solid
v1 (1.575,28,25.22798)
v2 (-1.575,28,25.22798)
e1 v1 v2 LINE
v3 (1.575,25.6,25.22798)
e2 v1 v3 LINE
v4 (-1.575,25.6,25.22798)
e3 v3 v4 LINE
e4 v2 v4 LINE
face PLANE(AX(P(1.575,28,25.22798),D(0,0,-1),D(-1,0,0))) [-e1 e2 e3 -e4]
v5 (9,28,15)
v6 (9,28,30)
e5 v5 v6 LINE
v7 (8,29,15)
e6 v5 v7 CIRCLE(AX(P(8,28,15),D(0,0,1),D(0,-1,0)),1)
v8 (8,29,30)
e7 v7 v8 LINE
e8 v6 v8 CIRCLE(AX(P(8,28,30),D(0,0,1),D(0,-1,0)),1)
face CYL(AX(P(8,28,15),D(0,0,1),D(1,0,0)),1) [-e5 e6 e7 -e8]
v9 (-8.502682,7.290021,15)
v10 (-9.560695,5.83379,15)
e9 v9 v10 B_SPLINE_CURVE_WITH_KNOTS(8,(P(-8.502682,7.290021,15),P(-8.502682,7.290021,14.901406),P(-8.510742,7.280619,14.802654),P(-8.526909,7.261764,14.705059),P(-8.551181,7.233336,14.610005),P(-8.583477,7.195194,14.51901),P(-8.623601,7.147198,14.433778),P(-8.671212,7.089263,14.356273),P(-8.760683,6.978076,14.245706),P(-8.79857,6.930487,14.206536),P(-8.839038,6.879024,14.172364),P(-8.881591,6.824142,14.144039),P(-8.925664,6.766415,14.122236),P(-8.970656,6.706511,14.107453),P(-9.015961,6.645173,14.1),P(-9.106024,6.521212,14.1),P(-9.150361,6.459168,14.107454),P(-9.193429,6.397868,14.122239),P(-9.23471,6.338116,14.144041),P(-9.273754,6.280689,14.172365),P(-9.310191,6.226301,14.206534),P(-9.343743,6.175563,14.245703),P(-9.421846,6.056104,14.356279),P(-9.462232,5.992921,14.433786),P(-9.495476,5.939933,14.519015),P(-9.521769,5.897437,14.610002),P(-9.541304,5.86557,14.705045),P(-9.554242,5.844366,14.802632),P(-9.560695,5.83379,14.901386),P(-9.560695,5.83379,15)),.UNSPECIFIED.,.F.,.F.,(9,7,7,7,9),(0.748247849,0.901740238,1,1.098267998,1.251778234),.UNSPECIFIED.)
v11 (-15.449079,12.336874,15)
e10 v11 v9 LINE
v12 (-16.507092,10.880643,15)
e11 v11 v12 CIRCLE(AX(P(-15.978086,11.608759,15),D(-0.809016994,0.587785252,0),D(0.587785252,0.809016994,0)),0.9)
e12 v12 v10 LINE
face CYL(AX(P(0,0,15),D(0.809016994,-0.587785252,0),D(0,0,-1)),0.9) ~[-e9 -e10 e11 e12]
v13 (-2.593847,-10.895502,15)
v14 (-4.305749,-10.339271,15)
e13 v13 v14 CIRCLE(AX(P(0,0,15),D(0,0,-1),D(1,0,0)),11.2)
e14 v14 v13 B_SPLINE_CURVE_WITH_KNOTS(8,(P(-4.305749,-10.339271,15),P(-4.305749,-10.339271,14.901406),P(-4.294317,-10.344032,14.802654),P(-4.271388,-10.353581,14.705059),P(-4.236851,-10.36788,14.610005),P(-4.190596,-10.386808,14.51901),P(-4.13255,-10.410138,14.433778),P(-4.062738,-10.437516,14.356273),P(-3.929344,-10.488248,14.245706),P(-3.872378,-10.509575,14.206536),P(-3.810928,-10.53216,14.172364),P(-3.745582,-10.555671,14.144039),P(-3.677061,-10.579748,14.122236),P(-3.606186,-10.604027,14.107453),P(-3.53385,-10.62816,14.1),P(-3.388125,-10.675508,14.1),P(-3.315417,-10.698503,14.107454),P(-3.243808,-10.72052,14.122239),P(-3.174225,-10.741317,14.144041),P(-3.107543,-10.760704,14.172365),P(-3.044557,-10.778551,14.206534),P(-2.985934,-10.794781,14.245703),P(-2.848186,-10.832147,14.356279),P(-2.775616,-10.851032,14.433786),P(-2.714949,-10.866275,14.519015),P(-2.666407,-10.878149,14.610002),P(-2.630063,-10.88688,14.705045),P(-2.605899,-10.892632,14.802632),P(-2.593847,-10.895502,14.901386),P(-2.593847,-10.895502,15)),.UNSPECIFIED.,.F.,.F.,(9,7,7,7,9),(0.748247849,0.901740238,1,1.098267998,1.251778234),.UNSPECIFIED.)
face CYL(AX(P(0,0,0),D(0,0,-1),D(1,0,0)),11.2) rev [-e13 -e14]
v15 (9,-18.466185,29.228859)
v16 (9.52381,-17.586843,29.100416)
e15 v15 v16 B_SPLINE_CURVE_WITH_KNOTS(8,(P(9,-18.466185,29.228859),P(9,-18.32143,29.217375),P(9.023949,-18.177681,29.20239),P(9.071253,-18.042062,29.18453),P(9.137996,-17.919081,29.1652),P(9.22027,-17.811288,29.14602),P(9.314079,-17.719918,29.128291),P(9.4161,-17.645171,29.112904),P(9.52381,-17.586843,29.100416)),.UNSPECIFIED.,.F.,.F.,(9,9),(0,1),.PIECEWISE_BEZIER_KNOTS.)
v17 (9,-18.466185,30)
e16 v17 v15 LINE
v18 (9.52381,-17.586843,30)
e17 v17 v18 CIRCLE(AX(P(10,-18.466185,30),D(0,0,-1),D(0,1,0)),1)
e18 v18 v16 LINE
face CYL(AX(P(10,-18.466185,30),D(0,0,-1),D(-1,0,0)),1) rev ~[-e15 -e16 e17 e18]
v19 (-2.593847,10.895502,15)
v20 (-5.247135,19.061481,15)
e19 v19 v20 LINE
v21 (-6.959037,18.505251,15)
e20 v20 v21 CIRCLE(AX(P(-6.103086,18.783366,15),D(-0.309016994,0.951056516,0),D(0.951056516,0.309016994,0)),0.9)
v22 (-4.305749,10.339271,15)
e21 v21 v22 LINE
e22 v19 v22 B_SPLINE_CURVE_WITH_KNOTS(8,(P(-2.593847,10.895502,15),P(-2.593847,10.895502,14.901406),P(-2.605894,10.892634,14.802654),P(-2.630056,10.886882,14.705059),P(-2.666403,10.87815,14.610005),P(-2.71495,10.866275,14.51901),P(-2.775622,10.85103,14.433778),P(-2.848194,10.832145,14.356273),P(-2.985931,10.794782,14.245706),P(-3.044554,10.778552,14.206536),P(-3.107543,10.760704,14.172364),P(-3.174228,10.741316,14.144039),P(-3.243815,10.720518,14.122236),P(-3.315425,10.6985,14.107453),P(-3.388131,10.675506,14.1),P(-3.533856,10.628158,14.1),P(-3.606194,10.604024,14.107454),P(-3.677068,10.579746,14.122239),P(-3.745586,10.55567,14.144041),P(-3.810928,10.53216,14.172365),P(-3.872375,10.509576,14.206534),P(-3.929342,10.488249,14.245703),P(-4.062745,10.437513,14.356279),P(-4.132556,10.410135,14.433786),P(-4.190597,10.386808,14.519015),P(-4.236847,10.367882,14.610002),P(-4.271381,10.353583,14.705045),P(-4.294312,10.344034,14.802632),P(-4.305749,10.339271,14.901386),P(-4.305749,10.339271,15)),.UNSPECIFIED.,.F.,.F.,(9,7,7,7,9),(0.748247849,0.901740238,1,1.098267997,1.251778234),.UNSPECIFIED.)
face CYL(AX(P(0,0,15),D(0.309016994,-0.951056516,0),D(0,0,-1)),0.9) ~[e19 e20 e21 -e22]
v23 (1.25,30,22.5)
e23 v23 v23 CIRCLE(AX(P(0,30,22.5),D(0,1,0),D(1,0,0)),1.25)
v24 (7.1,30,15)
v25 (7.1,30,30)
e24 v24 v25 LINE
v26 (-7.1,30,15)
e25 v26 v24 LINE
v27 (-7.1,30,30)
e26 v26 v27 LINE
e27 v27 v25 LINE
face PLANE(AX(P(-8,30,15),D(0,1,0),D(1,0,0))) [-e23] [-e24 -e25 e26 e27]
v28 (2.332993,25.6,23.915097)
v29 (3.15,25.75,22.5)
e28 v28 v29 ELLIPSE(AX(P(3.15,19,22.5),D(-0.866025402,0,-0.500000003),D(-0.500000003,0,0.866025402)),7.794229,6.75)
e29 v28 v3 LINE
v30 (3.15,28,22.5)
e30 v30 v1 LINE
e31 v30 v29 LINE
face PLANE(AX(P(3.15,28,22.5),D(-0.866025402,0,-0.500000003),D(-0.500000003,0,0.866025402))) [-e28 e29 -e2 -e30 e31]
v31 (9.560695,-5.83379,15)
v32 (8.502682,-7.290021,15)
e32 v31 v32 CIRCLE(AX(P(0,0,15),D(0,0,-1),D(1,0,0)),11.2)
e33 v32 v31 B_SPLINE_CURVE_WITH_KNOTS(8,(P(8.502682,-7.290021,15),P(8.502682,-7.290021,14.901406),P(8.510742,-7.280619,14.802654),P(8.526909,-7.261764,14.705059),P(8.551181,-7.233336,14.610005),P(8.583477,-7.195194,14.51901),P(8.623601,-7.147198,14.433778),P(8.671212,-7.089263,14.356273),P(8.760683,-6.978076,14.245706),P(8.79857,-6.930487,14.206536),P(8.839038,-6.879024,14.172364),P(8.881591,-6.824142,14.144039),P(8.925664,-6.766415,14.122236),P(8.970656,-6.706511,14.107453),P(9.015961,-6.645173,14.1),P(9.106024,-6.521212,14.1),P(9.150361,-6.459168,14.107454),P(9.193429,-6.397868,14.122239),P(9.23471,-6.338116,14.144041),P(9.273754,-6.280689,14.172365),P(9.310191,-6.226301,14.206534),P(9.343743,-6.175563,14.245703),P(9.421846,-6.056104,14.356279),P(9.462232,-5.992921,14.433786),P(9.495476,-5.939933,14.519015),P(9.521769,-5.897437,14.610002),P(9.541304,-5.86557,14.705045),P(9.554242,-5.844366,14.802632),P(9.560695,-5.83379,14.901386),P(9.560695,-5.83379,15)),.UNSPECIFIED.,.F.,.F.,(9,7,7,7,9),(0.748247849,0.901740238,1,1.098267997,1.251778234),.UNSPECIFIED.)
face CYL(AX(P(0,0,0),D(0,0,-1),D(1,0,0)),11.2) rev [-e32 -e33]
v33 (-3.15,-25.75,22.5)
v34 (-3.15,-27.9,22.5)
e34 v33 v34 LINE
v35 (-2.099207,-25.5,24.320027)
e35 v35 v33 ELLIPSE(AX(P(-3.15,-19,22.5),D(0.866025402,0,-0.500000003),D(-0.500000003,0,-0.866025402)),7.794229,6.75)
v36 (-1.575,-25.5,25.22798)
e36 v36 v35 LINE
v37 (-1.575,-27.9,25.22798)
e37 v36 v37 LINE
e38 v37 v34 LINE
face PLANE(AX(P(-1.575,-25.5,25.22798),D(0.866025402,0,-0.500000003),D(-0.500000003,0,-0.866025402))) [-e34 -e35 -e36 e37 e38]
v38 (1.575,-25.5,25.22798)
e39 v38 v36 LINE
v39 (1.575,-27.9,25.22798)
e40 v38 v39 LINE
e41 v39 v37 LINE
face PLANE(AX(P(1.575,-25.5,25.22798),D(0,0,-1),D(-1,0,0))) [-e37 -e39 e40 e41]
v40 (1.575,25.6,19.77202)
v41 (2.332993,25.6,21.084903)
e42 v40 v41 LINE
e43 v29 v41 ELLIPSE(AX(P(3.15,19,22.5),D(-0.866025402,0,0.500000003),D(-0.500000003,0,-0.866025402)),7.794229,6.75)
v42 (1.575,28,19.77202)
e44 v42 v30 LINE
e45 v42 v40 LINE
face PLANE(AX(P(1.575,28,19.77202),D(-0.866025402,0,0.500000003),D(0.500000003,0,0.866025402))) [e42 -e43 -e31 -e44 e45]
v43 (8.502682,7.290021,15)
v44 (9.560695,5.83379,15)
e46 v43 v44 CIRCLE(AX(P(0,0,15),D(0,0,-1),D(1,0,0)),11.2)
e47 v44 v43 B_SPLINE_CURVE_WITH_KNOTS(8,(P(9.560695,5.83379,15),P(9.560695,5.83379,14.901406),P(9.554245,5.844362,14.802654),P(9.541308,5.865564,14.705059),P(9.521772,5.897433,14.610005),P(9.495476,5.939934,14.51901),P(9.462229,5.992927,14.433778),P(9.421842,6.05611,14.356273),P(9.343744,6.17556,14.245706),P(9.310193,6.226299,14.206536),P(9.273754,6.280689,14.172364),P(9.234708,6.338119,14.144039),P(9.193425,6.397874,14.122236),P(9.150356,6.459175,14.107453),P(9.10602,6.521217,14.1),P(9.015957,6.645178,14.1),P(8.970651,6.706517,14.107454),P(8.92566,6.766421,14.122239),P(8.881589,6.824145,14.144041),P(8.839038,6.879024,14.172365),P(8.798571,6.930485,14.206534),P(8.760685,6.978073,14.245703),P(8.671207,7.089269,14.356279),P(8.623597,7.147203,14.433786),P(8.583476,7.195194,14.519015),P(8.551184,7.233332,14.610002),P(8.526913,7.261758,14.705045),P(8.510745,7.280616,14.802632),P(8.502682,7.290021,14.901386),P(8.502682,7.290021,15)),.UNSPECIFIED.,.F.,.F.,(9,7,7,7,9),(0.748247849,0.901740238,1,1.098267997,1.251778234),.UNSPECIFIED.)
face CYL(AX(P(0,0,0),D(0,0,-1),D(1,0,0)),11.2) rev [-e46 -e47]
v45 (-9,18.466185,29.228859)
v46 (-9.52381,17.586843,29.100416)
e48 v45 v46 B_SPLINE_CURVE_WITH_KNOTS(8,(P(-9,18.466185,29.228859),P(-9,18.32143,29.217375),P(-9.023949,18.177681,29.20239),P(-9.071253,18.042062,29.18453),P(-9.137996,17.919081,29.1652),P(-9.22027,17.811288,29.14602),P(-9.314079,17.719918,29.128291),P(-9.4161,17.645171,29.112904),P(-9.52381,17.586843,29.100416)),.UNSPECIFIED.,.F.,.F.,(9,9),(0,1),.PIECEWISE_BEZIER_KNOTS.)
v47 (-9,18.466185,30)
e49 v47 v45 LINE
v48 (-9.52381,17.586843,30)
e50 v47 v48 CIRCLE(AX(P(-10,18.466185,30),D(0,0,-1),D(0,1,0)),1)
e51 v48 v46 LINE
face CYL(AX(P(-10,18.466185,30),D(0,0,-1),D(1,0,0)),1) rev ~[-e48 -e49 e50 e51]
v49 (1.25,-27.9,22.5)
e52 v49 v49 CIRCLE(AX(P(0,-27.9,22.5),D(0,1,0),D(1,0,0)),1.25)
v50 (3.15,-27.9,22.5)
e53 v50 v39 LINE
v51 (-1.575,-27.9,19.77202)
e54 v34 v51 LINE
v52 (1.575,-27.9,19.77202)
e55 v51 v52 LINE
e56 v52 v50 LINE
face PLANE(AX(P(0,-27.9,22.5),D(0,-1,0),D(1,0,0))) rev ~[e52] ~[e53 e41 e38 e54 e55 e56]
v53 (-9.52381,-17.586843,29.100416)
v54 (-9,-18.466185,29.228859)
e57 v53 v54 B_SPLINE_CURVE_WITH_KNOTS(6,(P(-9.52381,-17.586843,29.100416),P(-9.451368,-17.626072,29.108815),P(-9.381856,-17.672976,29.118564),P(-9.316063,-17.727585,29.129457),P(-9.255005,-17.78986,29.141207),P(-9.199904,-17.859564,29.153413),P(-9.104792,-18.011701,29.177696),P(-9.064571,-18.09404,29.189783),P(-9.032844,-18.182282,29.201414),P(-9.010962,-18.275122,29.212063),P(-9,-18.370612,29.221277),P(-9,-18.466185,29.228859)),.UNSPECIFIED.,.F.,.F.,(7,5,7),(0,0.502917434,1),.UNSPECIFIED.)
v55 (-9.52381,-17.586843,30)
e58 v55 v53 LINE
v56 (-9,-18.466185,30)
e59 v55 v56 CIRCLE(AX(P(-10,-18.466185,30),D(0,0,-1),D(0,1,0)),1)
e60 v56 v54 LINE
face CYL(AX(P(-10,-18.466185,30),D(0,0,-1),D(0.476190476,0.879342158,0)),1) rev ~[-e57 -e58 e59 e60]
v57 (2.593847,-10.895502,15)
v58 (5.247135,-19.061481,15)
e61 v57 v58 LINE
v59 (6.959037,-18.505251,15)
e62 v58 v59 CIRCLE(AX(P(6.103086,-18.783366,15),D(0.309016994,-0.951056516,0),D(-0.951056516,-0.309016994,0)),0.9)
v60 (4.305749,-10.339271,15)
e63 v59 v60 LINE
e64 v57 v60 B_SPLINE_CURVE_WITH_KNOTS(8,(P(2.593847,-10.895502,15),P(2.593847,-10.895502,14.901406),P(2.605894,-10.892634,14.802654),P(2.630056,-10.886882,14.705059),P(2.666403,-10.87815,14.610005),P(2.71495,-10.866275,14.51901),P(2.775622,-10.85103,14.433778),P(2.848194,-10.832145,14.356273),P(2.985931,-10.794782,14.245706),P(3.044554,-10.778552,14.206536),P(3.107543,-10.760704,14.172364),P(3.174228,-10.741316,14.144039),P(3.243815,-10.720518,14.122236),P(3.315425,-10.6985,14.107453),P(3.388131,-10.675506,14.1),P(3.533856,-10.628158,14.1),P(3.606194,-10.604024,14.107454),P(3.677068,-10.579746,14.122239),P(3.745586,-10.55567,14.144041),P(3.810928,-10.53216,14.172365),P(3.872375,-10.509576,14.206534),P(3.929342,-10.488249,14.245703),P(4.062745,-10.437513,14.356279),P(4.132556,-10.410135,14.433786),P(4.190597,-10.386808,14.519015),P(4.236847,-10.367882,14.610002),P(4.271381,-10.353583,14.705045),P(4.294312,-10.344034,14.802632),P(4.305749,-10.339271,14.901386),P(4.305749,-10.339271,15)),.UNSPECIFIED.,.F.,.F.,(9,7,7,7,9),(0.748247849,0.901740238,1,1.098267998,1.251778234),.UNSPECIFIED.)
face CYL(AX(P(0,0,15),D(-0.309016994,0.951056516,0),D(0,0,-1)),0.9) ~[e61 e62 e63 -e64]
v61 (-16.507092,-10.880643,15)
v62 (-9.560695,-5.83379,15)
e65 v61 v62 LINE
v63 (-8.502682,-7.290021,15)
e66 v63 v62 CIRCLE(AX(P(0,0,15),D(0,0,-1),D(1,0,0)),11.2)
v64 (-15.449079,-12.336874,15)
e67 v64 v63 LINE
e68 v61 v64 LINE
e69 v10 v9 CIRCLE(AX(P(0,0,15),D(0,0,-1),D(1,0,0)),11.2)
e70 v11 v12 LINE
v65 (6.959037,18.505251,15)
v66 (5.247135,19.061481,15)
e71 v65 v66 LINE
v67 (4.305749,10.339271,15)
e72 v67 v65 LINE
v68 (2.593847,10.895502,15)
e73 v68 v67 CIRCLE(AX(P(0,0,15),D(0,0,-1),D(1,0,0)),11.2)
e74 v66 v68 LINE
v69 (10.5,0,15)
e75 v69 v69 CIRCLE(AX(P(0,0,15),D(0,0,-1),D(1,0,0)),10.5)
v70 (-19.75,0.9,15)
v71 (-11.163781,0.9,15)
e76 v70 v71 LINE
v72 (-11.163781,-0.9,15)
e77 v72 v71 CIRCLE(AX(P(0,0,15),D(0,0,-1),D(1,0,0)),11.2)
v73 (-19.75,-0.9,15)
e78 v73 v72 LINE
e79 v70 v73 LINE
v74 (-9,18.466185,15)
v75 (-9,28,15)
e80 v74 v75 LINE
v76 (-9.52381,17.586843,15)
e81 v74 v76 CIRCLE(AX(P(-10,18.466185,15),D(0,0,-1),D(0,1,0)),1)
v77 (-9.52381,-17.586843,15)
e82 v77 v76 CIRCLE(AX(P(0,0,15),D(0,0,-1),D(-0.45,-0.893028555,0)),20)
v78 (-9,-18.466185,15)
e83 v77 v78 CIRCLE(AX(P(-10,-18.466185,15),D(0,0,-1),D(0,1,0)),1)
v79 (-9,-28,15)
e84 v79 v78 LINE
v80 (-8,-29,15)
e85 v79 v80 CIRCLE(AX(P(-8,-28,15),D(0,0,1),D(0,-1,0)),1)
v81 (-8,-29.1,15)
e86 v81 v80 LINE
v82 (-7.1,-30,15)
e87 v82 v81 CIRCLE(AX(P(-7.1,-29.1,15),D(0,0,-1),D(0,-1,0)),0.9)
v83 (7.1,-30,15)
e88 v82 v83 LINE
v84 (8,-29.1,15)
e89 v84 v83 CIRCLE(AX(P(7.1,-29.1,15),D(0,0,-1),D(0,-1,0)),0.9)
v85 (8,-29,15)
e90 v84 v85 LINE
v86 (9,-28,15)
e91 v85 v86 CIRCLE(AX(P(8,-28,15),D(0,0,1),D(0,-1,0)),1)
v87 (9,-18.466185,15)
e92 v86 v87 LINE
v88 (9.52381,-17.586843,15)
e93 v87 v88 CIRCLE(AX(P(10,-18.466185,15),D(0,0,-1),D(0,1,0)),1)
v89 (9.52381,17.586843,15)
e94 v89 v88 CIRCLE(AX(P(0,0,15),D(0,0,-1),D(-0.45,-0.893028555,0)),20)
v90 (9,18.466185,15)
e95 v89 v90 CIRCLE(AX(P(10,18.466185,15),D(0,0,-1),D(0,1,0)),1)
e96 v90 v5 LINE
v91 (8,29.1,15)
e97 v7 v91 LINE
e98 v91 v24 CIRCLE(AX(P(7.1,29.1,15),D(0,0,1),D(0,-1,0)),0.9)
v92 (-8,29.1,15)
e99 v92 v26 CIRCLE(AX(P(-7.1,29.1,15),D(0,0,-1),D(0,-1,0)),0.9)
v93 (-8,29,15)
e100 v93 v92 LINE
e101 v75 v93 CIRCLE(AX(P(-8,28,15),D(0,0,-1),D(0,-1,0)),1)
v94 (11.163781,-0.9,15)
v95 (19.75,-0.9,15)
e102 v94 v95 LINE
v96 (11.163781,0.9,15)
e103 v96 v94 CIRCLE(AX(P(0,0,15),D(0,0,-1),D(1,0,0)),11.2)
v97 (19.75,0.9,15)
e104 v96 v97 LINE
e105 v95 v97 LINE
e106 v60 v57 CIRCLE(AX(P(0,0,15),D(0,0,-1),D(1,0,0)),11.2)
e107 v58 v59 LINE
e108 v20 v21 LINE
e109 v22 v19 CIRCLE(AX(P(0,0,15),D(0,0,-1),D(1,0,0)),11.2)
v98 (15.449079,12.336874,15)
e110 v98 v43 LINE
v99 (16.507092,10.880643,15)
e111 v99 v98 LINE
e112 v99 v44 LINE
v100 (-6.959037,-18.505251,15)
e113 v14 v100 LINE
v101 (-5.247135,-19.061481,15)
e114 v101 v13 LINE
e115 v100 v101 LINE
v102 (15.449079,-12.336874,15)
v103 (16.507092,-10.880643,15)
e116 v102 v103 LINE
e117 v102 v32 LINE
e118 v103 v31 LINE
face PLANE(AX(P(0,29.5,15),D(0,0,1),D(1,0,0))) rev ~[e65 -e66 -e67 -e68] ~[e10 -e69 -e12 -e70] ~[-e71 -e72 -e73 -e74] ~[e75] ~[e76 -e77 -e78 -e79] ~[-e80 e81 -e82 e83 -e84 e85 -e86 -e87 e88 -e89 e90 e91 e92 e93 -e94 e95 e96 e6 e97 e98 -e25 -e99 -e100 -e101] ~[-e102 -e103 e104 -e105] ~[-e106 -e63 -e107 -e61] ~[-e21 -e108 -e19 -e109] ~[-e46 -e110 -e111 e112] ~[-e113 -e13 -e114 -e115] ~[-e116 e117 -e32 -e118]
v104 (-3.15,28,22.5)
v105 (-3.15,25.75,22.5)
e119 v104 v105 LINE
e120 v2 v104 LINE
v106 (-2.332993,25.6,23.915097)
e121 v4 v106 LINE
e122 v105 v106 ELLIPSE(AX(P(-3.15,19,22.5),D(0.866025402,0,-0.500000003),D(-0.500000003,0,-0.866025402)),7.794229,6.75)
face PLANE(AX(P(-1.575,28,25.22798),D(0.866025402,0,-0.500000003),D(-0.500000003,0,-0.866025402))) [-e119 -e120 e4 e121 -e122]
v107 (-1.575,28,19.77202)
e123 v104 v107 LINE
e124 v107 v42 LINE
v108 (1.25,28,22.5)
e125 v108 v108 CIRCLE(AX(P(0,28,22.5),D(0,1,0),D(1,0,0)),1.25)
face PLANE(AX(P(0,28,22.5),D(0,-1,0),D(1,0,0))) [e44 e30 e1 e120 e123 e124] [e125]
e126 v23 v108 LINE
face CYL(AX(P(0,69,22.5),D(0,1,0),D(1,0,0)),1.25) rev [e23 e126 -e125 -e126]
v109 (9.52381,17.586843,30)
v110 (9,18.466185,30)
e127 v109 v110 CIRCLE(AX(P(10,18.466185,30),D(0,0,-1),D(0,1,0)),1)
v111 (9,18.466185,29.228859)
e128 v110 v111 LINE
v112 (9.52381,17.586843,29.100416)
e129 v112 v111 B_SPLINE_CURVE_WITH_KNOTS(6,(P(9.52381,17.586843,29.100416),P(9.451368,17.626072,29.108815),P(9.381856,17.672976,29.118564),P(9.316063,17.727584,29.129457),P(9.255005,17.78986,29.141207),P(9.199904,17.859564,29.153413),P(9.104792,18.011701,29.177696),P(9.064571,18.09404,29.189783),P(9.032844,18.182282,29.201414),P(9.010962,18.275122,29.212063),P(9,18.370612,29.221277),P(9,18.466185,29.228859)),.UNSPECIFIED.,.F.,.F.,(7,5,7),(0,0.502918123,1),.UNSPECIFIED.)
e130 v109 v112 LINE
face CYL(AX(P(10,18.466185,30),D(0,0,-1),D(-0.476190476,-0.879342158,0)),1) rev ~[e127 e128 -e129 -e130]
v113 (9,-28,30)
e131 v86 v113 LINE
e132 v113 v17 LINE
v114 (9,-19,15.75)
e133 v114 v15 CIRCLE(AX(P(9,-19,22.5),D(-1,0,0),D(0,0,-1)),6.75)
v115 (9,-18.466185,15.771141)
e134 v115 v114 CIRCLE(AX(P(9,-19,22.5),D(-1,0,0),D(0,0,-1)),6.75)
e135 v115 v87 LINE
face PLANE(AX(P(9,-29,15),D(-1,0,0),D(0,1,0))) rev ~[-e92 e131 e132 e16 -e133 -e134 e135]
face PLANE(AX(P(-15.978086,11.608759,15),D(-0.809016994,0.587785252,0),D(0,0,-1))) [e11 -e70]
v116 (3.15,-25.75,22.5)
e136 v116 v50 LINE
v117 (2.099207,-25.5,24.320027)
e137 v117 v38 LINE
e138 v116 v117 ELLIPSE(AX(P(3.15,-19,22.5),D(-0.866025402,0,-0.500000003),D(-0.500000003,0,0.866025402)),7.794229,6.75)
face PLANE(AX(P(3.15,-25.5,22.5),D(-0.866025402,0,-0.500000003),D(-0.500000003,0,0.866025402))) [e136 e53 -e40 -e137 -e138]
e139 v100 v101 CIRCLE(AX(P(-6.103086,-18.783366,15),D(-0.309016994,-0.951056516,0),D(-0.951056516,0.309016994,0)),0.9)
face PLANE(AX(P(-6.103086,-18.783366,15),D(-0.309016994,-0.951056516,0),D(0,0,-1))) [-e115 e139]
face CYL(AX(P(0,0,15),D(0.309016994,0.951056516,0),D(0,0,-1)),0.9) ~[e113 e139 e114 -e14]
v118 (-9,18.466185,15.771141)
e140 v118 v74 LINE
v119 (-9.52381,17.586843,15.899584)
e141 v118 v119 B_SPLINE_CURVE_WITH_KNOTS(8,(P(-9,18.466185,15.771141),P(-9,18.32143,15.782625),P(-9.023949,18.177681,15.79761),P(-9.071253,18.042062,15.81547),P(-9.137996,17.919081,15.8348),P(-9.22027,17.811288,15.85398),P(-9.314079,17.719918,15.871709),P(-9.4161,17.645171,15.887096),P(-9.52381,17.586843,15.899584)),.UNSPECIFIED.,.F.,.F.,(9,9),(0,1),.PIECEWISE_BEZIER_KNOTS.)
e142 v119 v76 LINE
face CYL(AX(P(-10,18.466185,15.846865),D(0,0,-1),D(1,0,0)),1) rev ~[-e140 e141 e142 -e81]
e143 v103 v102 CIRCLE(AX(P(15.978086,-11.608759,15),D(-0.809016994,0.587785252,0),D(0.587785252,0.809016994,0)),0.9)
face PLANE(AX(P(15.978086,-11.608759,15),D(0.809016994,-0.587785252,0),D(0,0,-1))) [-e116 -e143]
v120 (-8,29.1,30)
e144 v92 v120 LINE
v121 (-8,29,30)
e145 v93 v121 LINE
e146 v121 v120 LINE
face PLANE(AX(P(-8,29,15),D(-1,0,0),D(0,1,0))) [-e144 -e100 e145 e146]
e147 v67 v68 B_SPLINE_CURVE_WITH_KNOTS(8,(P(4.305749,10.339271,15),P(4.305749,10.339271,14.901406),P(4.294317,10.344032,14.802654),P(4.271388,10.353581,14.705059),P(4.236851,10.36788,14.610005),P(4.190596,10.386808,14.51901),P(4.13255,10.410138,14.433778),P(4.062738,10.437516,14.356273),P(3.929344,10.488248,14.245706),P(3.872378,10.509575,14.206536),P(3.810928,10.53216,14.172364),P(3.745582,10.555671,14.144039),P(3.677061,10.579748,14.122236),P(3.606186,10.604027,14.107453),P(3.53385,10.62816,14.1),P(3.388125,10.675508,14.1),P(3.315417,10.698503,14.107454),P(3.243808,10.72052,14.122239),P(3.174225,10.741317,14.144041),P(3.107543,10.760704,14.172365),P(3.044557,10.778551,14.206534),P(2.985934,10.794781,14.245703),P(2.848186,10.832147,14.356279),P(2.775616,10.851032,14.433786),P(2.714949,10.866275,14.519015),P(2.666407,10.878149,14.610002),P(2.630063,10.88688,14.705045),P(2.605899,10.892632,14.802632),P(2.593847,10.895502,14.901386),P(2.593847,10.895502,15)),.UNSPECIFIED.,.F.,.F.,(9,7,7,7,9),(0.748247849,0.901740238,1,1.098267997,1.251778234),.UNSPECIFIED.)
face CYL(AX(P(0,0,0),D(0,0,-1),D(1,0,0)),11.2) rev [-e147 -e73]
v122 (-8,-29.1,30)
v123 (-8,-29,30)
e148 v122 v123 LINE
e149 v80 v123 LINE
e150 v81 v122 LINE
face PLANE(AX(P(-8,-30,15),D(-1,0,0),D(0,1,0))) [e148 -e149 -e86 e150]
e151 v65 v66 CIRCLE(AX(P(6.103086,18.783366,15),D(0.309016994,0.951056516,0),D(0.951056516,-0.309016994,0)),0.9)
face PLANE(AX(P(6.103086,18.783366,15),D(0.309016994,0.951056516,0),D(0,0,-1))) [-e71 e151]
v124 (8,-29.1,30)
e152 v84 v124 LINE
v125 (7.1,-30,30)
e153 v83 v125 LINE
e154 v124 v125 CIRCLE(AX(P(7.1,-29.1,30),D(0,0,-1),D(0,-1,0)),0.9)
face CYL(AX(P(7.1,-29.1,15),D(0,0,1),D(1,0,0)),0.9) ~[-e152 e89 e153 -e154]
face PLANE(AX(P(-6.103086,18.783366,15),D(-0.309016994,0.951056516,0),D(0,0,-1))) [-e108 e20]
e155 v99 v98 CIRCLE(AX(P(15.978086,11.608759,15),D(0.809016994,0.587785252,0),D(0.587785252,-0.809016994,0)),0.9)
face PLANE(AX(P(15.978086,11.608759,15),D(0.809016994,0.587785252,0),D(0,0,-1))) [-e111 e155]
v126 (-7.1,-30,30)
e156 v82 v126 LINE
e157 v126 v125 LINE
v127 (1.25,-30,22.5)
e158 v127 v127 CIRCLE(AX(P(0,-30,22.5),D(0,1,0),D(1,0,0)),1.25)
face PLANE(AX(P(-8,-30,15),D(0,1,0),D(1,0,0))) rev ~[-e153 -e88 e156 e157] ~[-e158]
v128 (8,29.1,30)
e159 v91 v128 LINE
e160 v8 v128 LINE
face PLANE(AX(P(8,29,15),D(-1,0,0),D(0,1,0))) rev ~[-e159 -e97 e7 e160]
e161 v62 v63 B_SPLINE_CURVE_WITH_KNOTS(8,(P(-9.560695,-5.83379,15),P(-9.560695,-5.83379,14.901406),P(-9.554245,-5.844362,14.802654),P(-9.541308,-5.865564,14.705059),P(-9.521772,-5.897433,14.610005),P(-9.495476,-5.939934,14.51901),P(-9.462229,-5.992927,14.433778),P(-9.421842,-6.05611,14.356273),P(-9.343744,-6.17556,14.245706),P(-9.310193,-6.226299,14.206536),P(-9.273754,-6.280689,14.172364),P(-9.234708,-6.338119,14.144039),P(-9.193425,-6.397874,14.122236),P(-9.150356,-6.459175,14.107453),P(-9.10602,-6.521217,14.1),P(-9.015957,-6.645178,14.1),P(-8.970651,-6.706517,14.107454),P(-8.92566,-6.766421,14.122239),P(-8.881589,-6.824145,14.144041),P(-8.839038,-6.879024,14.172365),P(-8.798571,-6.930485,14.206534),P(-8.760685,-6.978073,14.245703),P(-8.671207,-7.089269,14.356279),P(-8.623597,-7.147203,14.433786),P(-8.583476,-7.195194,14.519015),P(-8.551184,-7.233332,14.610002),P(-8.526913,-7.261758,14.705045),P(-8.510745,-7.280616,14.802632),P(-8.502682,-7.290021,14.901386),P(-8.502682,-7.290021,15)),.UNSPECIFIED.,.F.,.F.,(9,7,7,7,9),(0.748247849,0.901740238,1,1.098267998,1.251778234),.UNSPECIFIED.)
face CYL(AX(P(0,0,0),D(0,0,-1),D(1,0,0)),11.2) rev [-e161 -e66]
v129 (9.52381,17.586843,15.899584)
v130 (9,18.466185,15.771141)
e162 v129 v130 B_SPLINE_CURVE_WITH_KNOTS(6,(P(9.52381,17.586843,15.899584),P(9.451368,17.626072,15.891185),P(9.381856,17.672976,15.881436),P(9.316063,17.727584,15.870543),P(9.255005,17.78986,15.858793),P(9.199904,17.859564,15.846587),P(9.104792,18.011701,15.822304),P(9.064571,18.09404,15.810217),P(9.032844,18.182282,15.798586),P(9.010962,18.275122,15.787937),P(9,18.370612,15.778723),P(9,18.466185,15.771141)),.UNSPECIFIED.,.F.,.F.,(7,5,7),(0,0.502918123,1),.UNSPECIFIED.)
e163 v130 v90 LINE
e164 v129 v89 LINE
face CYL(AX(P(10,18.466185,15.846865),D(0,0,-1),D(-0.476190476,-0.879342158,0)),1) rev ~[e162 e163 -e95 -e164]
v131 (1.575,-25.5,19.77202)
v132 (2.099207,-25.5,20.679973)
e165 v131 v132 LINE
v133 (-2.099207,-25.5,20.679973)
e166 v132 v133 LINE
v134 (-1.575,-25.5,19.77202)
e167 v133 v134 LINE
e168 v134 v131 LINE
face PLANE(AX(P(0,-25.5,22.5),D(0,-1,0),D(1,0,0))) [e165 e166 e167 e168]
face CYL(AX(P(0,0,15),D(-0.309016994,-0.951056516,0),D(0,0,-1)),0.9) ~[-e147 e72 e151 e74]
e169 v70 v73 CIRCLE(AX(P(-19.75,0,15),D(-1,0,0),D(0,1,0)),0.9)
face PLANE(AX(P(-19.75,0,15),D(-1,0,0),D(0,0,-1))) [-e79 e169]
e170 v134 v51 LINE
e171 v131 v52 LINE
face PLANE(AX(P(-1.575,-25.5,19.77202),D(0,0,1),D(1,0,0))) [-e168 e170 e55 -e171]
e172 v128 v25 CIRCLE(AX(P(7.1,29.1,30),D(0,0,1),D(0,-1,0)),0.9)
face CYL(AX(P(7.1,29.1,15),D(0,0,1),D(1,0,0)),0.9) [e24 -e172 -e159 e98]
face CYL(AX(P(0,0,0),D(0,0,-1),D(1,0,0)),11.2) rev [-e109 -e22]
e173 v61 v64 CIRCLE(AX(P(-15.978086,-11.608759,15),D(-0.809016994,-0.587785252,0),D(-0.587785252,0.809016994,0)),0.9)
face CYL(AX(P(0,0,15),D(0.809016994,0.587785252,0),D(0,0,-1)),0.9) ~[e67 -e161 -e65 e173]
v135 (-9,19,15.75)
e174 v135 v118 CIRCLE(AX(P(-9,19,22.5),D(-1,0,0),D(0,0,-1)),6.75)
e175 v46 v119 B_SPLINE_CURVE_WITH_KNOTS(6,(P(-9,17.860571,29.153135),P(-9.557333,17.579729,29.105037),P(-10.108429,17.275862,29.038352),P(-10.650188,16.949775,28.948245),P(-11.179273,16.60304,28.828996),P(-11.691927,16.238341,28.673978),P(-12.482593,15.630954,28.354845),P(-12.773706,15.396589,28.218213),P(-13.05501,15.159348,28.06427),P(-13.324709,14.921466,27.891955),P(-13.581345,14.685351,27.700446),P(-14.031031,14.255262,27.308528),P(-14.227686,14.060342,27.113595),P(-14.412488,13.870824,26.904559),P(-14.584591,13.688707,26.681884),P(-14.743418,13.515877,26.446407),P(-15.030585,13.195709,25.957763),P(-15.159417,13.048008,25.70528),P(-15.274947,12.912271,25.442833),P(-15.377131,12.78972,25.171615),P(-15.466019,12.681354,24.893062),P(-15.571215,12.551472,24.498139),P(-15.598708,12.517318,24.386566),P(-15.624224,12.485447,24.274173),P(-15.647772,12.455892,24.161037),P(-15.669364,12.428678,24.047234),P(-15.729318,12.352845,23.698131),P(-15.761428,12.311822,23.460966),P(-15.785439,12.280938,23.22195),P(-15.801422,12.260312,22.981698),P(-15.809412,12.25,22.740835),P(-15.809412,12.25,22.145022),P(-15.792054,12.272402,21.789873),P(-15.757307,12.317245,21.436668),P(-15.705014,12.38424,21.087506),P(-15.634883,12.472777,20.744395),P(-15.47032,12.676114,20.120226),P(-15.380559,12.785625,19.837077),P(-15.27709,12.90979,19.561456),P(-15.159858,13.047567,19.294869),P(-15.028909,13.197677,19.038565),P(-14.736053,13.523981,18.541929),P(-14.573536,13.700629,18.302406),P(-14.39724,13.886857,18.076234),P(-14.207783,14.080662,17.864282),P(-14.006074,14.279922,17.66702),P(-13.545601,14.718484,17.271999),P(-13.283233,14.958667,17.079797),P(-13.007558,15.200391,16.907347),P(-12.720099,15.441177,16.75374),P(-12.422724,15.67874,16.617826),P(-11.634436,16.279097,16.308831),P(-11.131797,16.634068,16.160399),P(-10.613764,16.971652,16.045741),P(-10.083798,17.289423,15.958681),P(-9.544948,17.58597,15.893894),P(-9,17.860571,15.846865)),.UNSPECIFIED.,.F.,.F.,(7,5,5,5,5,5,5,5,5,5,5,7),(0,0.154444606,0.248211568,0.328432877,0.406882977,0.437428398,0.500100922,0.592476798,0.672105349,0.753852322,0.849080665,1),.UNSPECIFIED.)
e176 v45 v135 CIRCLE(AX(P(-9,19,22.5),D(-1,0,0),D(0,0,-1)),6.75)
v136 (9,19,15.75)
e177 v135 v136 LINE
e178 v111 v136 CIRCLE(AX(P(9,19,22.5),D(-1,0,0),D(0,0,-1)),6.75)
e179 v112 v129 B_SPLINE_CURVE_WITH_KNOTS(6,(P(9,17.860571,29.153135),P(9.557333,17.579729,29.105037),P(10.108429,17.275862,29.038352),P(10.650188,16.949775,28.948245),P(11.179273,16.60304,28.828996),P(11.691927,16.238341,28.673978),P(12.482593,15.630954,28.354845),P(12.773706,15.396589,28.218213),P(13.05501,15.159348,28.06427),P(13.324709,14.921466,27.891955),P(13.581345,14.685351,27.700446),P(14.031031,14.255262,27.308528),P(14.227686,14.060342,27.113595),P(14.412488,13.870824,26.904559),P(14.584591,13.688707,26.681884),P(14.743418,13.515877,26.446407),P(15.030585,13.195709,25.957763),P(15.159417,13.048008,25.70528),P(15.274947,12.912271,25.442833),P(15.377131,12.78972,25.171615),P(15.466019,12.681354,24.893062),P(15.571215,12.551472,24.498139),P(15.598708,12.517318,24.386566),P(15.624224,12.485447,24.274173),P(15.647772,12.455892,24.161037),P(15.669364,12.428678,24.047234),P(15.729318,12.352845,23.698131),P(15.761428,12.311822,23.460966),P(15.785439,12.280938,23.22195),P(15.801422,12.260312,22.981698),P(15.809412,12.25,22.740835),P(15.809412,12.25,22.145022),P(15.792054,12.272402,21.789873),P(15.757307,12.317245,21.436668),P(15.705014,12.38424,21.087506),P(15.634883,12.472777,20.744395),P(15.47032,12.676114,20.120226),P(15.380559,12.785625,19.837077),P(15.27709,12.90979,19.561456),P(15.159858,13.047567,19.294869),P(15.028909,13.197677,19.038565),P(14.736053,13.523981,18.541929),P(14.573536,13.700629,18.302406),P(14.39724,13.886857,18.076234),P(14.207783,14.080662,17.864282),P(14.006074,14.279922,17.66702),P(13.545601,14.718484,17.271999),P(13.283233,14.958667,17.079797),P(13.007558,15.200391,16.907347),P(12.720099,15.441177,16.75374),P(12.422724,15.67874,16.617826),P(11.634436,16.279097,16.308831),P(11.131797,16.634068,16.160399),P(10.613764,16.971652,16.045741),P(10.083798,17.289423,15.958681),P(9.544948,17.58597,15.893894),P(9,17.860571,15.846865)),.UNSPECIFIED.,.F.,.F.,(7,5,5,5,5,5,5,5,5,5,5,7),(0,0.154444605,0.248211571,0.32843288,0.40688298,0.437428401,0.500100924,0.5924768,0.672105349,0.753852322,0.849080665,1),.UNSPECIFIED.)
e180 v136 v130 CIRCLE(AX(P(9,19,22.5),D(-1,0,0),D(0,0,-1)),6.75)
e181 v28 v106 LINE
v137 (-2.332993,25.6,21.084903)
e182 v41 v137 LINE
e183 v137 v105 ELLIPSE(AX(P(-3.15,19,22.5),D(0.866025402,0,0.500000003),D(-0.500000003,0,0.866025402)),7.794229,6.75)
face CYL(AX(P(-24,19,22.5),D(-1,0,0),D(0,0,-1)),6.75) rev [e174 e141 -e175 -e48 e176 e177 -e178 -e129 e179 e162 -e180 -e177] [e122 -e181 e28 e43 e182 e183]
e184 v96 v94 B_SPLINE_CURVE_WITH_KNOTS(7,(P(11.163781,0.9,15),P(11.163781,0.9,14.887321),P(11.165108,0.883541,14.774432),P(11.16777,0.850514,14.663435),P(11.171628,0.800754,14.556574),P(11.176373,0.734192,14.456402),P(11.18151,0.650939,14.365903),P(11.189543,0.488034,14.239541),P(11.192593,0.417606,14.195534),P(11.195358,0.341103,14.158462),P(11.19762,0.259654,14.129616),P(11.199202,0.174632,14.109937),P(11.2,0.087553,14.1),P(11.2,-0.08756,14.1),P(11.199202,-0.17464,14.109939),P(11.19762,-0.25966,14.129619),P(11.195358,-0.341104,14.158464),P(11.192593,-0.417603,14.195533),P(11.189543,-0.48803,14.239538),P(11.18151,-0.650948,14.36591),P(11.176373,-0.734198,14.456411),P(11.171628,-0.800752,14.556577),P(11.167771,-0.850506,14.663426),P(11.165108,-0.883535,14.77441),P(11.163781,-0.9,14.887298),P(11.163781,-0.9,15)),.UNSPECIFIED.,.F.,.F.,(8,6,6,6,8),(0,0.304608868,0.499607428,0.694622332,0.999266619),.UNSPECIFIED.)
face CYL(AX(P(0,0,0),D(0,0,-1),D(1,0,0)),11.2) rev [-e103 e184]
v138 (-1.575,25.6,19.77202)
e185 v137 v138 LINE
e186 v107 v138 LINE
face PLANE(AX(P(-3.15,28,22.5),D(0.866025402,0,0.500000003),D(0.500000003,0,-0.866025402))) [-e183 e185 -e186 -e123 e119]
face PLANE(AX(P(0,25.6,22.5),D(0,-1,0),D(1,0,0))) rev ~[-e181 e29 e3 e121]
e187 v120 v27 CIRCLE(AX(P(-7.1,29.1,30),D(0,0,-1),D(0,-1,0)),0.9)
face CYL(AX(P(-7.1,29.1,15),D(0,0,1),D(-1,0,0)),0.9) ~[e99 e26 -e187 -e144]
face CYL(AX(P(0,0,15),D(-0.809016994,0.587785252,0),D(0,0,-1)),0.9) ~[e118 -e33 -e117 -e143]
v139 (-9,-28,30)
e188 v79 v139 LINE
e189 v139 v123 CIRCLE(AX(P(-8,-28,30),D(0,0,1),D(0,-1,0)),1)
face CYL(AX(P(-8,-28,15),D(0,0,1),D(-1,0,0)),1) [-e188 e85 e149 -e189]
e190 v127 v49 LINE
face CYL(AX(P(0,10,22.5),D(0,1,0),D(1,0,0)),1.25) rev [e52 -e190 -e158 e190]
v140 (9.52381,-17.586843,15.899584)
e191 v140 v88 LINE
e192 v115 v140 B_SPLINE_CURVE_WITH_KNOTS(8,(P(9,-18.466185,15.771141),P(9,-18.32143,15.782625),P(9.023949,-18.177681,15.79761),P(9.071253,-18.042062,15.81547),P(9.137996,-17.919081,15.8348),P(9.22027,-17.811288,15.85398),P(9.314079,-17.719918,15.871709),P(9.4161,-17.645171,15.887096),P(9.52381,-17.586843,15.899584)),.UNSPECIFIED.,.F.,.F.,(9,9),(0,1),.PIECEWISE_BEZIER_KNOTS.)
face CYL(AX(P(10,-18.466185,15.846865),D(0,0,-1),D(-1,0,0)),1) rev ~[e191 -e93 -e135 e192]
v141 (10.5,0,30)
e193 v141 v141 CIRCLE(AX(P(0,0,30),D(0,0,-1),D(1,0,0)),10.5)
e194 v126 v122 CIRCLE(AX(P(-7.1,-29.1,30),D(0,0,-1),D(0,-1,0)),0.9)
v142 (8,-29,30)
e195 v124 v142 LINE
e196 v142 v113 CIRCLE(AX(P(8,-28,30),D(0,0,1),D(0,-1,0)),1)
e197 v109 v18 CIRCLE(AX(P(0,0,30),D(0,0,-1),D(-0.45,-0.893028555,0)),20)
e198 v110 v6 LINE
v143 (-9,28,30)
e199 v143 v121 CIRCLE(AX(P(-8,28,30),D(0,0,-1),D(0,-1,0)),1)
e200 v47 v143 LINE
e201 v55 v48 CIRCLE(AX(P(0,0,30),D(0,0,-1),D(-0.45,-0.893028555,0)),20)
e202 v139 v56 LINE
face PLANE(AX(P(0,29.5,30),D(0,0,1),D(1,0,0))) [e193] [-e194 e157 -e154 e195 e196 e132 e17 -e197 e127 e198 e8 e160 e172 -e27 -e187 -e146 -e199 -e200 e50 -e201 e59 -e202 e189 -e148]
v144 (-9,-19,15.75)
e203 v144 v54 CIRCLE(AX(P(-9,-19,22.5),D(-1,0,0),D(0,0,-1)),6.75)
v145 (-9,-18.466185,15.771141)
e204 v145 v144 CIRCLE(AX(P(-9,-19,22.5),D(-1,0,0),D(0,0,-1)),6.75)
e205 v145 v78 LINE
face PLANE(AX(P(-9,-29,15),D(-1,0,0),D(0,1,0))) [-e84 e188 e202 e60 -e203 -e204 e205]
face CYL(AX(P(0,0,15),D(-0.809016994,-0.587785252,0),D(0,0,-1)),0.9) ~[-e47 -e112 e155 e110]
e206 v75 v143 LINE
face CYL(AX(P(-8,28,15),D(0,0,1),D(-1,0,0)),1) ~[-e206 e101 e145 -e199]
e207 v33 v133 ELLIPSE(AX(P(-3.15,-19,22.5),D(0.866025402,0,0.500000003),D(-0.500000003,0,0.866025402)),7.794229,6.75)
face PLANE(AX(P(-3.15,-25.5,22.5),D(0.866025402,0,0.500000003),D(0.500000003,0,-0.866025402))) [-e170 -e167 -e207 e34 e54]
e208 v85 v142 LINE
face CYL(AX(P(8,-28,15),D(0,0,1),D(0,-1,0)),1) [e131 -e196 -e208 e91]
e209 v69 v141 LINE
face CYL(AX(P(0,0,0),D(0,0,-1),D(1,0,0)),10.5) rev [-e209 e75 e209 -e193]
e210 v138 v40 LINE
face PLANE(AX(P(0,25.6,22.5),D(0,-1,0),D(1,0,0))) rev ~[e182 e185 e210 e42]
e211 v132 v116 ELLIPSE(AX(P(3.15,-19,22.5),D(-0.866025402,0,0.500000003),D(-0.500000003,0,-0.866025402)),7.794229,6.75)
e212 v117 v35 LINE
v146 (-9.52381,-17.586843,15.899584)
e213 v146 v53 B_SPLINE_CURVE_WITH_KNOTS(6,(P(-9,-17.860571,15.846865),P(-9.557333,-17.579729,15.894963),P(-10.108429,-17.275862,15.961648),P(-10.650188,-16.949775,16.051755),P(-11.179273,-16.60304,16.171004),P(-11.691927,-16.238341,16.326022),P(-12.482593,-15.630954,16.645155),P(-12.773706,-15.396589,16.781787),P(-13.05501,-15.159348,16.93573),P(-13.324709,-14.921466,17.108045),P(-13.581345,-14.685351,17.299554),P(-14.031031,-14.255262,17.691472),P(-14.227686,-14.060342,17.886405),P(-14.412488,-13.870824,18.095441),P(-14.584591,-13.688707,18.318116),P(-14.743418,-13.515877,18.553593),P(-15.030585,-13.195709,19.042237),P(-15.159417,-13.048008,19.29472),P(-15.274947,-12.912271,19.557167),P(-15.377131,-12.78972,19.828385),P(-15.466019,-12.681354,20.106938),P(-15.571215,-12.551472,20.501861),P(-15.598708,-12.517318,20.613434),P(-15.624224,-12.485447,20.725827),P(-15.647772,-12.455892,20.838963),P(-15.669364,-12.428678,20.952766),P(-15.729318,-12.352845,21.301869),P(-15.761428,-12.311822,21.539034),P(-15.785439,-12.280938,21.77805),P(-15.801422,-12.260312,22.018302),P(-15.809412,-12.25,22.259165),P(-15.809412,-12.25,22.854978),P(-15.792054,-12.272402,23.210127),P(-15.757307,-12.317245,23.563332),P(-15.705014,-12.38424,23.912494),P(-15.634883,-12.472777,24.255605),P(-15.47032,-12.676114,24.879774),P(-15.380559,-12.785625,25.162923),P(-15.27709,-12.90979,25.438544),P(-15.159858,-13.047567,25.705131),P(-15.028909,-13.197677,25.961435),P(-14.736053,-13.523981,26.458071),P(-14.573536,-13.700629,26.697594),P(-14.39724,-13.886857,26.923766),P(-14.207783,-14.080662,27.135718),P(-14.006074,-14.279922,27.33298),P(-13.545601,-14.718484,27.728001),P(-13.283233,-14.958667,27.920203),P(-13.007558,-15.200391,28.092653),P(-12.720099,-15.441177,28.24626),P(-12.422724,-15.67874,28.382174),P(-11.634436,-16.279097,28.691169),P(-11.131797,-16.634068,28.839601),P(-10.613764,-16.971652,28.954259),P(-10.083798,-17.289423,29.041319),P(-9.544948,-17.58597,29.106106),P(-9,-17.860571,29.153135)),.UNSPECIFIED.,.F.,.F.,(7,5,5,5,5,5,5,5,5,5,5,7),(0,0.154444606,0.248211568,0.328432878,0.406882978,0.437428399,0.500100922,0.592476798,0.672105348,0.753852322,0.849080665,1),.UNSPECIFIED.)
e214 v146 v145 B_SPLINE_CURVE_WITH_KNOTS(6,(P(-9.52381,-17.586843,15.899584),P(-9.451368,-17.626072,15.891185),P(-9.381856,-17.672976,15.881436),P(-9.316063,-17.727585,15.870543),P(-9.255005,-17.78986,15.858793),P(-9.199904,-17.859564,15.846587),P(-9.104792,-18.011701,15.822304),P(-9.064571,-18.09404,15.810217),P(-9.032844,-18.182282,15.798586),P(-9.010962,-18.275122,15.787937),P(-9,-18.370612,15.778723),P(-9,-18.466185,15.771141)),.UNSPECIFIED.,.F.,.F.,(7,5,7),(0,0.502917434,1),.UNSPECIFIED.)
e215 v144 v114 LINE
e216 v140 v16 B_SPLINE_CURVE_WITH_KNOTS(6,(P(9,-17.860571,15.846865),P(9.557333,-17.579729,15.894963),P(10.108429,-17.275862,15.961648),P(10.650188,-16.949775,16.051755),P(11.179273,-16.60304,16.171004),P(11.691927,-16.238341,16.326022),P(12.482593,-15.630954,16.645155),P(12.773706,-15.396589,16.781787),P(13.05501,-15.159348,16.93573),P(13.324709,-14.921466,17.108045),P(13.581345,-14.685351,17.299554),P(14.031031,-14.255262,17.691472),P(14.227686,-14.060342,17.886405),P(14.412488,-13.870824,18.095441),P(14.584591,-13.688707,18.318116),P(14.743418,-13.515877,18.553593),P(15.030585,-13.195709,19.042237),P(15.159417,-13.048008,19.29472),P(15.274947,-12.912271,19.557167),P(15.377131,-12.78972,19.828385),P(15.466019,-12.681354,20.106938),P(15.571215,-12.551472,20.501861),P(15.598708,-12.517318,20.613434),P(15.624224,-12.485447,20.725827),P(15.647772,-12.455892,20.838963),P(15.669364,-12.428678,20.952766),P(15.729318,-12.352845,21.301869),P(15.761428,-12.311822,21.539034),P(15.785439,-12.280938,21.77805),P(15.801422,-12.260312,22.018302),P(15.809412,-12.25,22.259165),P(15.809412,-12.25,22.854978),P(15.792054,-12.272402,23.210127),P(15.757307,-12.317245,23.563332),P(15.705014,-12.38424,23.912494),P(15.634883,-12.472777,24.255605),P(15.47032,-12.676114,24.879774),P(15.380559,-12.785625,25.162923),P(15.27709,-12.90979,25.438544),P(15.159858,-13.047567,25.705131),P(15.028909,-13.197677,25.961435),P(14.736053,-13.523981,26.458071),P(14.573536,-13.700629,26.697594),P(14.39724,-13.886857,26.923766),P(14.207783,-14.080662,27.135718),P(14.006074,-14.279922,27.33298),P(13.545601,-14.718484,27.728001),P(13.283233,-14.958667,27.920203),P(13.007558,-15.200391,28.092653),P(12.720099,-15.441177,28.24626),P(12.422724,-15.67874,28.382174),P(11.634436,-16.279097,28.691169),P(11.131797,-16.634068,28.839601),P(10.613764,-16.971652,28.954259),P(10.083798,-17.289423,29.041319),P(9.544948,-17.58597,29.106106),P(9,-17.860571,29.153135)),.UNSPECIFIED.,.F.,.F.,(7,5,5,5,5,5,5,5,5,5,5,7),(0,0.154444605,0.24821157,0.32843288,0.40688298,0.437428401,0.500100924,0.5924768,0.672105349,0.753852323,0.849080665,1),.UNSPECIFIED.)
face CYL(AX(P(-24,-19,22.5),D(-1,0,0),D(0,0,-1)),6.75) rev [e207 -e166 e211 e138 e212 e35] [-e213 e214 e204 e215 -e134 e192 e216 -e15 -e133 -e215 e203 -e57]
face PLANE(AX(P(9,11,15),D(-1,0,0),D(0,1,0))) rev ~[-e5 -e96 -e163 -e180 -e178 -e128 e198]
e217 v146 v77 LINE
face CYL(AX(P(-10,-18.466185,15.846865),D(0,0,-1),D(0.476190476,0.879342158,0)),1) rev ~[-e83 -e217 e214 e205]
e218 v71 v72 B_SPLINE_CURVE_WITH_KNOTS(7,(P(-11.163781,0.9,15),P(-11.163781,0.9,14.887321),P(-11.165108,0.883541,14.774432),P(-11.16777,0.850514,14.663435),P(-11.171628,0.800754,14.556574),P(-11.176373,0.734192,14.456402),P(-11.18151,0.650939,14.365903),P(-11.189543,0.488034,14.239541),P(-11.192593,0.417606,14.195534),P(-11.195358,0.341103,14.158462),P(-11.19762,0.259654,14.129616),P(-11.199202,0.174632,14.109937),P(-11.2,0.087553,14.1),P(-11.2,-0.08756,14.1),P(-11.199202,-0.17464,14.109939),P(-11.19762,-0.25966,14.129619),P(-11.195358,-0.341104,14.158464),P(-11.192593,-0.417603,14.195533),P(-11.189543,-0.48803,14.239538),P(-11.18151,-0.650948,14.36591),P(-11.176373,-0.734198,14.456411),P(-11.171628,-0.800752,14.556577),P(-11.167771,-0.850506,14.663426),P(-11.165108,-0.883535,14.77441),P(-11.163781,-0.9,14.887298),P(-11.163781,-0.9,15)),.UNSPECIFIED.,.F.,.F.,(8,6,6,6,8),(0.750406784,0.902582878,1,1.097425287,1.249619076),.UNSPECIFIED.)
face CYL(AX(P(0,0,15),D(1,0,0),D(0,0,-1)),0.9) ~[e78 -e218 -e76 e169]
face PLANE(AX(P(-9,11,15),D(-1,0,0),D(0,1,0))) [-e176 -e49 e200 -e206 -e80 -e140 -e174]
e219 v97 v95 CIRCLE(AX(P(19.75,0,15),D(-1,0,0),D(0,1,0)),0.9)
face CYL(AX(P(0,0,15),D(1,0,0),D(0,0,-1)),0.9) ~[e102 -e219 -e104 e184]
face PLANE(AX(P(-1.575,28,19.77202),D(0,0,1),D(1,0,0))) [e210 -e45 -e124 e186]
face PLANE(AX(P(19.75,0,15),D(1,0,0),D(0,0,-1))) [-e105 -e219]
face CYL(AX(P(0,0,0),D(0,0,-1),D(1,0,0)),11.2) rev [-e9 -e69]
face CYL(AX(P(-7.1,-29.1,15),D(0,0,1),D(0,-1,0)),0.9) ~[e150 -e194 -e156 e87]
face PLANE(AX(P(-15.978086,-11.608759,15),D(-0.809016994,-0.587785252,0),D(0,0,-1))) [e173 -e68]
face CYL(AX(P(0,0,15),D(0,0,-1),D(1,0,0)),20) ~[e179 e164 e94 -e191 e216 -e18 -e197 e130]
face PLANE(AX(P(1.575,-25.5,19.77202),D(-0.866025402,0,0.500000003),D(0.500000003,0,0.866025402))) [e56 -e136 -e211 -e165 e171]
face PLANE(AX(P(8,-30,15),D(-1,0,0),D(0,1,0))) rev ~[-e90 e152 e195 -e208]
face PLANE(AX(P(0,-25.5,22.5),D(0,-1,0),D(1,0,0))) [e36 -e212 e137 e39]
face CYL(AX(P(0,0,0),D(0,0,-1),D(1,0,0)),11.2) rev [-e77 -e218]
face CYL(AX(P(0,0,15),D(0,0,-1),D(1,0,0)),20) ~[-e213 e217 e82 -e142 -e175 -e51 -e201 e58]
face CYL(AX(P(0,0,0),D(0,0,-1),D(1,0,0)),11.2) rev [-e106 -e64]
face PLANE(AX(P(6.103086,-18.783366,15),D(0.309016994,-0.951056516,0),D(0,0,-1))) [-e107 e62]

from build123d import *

# Parameters (mm, degrees)
PRISM_DEPTH       = 2.4
PRISM001_DEPTH    = 2.4
CYLINDER012_R     = 1.25
CYLINDER012_DEPTH = 50
CYLINDER011_R     = 1.25
CYLINDER011_DEPTH = 50
CYLINDER007_R     = 6.75
CYLINDER007_DEPTH = 50
CYLINDER008_R     = 6.75
CYLINDER008_DEPTH = 50
BOX002_W          = 18
BOX002_H          = 18
BOX002_DEPTH      = 15
BOX003_W          = 18
BOX003_H          = 18
BOX003_DEPTH      = 15
CYLINDER004_R     = 11.2
CYLINDER004_DEPTH = 23
CYLINDER002_R     = 0.9
CYLINDER002_DEPTH = 19.75
ARRAY001_COUNT    = 10
CYLINDER006_R     = 10.5
CYLINDER006_DEPTH = 32
CYLINDER005_R     = 20
CYLINDER005_DEPTH = 15
FILLET003_R       = 1
CYLINDER029_R     = 1.25
CYLINDER029_DEPTH = 50
BOX009_W          = 16
BOX009_H          = 1
BOX009_DEPTH      = 15
CYLINDER030_R     = 1.25
CYLINDER030_DEPTH = 50
BOX010_W          = 16
BOX010_H          = 1
BOX010_DEPTH      = 15
FILLET010_R       = 0.9


with BuildPart() as prism:
    # Prism → Prism (new body)
    with BuildSketch(Plane(origin=(0, 28, 22.5), x_dir=(1, 0, 0), z_dir=(0, -1, 0))):
        Polygon((3.15, 0), (1.575, 2.72798), (-1.575, 2.72798), (-3.15, 0), (-1.575, -2.72798), (1.575, -2.72798), align=None)
    extrude(amount=PRISM_DEPTH)


with BuildPart() as prism001:
    # Prism001 → Prism001 (new body)
    with BuildSketch(Plane(origin=(0, -25.5, 22.5), x_dir=(1, 0, 0), z_dir=(0, -1, 0))):
        Polygon((3.15, 0), (1.575, 2.72798), (-1.575, 2.72798), (-3.15, 0), (-1.575, -2.72798), (1.575, -2.72798), align=None)
    extrude(amount=PRISM001_DEPTH)


with BuildPart() as cylinder011:
    # Cylinder012 → Cylinder012 (new body)
    with BuildSketch(Plane(origin=(0, 69, 22.5), x_dir=(1, 0, 0), z_dir=(0, -1, 0))):
        Circle(CYLINDER012_R)
    extrude(amount=CYLINDER012_DEPTH)


with BuildPart() as cylinder010:
    # Cylinder011 → Cylinder011 (new body)
    with BuildSketch(Plane(origin=(0, -16, 22.5), x_dir=(1, 0, 0), z_dir=(0, -1, 0))):
        Circle(CYLINDER011_R)
    extrude(amount=CYLINDER011_DEPTH)


with BuildPart() as cylinder007:
    # Cylinder007 → Cylinder007 (new body)
    with BuildSketch(Plane(origin=(-24, 19, 22.5), x_dir=(0, 0, -1), z_dir=(1, 0, 0))):
        Circle(CYLINDER007_R)
    extrude(amount=CYLINDER007_DEPTH)


with BuildPart() as cylinder008:
    # Cylinder008 → Cylinder008 (new body)
    with BuildSketch(Plane(origin=(-24, -19, 22.5), x_dir=(0, 0, -1), z_dir=(1, 0, 0))):
        Circle(CYLINDER008_R)
    extrude(amount=CYLINDER008_DEPTH)


with BuildPart() as cube002:
    # Box002 → Box002 (new body)
    with BuildSketch(Plane(origin=(-9, -29, 15), x_dir=(1, 0, 0), z_dir=(0, 0, 1))):
        with Locations((9, 9)):
            Rectangle(BOX002_W, BOX002_H)
    extrude(amount=BOX002_DEPTH)


with BuildPart() as cube003:
    # Box003 → Box003 (new body)
    with BuildSketch(Plane(origin=(-9, 11, 15), x_dir=(1, 0, 0), z_dir=(0, 0, 1))):
        with Locations((9, 9)):
            Rectangle(BOX003_W, BOX003_H)
    extrude(amount=BOX003_DEPTH)


with BuildPart() as cylinder004:
    # Cylinder004 → Cylinder004 (new body)
    with BuildSketch(Plane.XY):
        Circle(CYLINDER004_R)
    extrude(amount=CYLINDER004_DEPTH)


with BuildPart() as aspas:
    # Cylinder002 → Cylinder002 (new body)
    with BuildSketch(Plane(origin=(0, 0, 15), x_dir=(0, 0, -1), z_dir=(1, 0, 0))):
        Circle(CYLINDER002_R)
    extrude(amount=CYLINDER002_DEPTH)

    # Array001: aspas ×10 about axis
    array001_axis = Axis((0, 0, 0), (0, 0, 1))


with BuildPart() as aspas_1:
    add(aspas.part)
    for i in range(1, ARRAY001_COUNT):
        add(aspas.part.rotate(array001_axis, i * 360 / ARRAY001_COUNT))

    # Cut002: cut Cylinder004
    add(cylinder004.part, mode=Mode.SUBTRACT)


with BuildPart() as cylinder006:
    # Cylinder006 → Cylinder006 (new body)
    with BuildSketch(Plane.XY):
        Circle(CYLINDER006_R)
    extrude(amount=CYLINDER006_DEPTH)


with BuildPart() as final_soporte_inferior_estante11:
    # Cylinder005 → Cylinder005 (new body)
    with BuildSketch(Plane.XY.offset(15)):
        Circle(CYLINDER005_R)
    extrude(amount=CYLINDER005_DEPTH)

    # Cut004: cut Cylinder006
    add(cylinder006.part, mode=Mode.SUBTRACT)

    # Fusion001: union aspas
    add(aspas_1.part)

    # Fusion002: union Cube002, Cube003
    add(cube002.part)
    add(cube003.part)

    # Cut005: cut Cylinder008
    add(cylinder008.part, mode=Mode.SUBTRACT)

    # Cut006: cut Cylinder007
    add(cylinder007.part, mode=Mode.SUBTRACT)

    # Fillet003
    fillet003_edges = [final_soporte_inferior_estante11.edges().sort_by_distance(p)[0] for p in [
        (-9, -17.860571, 29.576567),
        (-9, -17.860571, 15.423433),
        (-9, -29, 22.5),
        (-9, 17.860571, 15.423433),
        (-9, 17.860571, 29.576567),
        (9, -29, 22.5),
        (9, -17.860571, 29.576567),
        (9, -17.860571, 15.423433),
        (9, 17.860571, 29.576567),
        (9, 17.860571, 15.423433),
        (9, 29, 22.5),
        (-9, 29, 22.5),
    ]]
    fillet(fillet003_edges, radius=FILLET003_R)

    # Cut008: cut Cylinder010
    add(cylinder010.part, mode=Mode.SUBTRACT)

    # Cut009: cut Cylinder011
    add(cylinder011.part, mode=Mode.SUBTRACT)

    # Cut025: cut Prism001
    add(prism001.part, mode=Mode.SUBTRACT)

    # Cut026: cut Prism
    add(prism.part, mode=Mode.SUBTRACT)


with BuildPart() as cylinder020:
    # Cylinder029 → Cylinder029 (new body)
    with BuildSketch(Plane(origin=(0, 69, 22.5), x_dir=(1, 0, 0), z_dir=(0, -1, 0))):
        Circle(CYLINDER029_R)
    extrude(amount=CYLINDER029_DEPTH)


with BuildPart() as cut027:
    # Box009 → Box009 (new body)
    with BuildSketch(Plane(origin=(-8, 29, 15), x_dir=(1, 0, 0), z_dir=(0, 0, 1))):
        with Locations((8, 0.5)):
            Rectangle(BOX009_W, BOX009_H)
    extrude(amount=BOX009_DEPTH)

    # Cut027: cut Cylinder020
    add(cylinder020.part, mode=Mode.SUBTRACT)


with BuildPart() as cylinder021:
    # Cylinder030 → Cylinder030 (new body)
    with BuildSketch(Plane(origin=(0, 69, 22.5), x_dir=(1, 0, 0), z_dir=(0, -1, 0))):
        Circle(CYLINDER030_R)
    extrude(amount=CYLINDER030_DEPTH)


with BuildPart() as final_soporte_inferior_estante1:
    # Box010 → Box010 (new body)
    with BuildSketch(Plane(origin=(-8, 29, 15), x_dir=(1, 0, 0), z_dir=(0, 0, 1))):
        with Locations((8, 0.5)):
            Rectangle(BOX010_W, BOX010_H)
    extrude(amount=BOX010_DEPTH)

    # Cut028: cut Cylinder021
    add(cylinder021.part, mode=Mode.SUBTRACT)


with BuildPart() as final_soporte_inferior_estante1_1:
    # Cut028 placement: moved
    add(final_soporte_inferior_estante1.part.moved(Location((0, -59, 0))))

    # Fusion008: union final_soporte_inferior_estante11, Cut027
    add(final_soporte_inferior_estante11.part)
    add(cut027.part)

    # Fillet010
    fillet010_edges = [final_soporte_inferior_estante1_1.edges().sort_by_distance(p)[0] for p in [
        (-8, -30, 22.5),
        (8, -30, 22.5),
        (-8, 30, 22.5),
        (8, 30, 22.5),
    ]]
    fillet(fillet010_edges, radius=FILLET010_R)


solid = final_soporte_inferior_estante1_1.part
